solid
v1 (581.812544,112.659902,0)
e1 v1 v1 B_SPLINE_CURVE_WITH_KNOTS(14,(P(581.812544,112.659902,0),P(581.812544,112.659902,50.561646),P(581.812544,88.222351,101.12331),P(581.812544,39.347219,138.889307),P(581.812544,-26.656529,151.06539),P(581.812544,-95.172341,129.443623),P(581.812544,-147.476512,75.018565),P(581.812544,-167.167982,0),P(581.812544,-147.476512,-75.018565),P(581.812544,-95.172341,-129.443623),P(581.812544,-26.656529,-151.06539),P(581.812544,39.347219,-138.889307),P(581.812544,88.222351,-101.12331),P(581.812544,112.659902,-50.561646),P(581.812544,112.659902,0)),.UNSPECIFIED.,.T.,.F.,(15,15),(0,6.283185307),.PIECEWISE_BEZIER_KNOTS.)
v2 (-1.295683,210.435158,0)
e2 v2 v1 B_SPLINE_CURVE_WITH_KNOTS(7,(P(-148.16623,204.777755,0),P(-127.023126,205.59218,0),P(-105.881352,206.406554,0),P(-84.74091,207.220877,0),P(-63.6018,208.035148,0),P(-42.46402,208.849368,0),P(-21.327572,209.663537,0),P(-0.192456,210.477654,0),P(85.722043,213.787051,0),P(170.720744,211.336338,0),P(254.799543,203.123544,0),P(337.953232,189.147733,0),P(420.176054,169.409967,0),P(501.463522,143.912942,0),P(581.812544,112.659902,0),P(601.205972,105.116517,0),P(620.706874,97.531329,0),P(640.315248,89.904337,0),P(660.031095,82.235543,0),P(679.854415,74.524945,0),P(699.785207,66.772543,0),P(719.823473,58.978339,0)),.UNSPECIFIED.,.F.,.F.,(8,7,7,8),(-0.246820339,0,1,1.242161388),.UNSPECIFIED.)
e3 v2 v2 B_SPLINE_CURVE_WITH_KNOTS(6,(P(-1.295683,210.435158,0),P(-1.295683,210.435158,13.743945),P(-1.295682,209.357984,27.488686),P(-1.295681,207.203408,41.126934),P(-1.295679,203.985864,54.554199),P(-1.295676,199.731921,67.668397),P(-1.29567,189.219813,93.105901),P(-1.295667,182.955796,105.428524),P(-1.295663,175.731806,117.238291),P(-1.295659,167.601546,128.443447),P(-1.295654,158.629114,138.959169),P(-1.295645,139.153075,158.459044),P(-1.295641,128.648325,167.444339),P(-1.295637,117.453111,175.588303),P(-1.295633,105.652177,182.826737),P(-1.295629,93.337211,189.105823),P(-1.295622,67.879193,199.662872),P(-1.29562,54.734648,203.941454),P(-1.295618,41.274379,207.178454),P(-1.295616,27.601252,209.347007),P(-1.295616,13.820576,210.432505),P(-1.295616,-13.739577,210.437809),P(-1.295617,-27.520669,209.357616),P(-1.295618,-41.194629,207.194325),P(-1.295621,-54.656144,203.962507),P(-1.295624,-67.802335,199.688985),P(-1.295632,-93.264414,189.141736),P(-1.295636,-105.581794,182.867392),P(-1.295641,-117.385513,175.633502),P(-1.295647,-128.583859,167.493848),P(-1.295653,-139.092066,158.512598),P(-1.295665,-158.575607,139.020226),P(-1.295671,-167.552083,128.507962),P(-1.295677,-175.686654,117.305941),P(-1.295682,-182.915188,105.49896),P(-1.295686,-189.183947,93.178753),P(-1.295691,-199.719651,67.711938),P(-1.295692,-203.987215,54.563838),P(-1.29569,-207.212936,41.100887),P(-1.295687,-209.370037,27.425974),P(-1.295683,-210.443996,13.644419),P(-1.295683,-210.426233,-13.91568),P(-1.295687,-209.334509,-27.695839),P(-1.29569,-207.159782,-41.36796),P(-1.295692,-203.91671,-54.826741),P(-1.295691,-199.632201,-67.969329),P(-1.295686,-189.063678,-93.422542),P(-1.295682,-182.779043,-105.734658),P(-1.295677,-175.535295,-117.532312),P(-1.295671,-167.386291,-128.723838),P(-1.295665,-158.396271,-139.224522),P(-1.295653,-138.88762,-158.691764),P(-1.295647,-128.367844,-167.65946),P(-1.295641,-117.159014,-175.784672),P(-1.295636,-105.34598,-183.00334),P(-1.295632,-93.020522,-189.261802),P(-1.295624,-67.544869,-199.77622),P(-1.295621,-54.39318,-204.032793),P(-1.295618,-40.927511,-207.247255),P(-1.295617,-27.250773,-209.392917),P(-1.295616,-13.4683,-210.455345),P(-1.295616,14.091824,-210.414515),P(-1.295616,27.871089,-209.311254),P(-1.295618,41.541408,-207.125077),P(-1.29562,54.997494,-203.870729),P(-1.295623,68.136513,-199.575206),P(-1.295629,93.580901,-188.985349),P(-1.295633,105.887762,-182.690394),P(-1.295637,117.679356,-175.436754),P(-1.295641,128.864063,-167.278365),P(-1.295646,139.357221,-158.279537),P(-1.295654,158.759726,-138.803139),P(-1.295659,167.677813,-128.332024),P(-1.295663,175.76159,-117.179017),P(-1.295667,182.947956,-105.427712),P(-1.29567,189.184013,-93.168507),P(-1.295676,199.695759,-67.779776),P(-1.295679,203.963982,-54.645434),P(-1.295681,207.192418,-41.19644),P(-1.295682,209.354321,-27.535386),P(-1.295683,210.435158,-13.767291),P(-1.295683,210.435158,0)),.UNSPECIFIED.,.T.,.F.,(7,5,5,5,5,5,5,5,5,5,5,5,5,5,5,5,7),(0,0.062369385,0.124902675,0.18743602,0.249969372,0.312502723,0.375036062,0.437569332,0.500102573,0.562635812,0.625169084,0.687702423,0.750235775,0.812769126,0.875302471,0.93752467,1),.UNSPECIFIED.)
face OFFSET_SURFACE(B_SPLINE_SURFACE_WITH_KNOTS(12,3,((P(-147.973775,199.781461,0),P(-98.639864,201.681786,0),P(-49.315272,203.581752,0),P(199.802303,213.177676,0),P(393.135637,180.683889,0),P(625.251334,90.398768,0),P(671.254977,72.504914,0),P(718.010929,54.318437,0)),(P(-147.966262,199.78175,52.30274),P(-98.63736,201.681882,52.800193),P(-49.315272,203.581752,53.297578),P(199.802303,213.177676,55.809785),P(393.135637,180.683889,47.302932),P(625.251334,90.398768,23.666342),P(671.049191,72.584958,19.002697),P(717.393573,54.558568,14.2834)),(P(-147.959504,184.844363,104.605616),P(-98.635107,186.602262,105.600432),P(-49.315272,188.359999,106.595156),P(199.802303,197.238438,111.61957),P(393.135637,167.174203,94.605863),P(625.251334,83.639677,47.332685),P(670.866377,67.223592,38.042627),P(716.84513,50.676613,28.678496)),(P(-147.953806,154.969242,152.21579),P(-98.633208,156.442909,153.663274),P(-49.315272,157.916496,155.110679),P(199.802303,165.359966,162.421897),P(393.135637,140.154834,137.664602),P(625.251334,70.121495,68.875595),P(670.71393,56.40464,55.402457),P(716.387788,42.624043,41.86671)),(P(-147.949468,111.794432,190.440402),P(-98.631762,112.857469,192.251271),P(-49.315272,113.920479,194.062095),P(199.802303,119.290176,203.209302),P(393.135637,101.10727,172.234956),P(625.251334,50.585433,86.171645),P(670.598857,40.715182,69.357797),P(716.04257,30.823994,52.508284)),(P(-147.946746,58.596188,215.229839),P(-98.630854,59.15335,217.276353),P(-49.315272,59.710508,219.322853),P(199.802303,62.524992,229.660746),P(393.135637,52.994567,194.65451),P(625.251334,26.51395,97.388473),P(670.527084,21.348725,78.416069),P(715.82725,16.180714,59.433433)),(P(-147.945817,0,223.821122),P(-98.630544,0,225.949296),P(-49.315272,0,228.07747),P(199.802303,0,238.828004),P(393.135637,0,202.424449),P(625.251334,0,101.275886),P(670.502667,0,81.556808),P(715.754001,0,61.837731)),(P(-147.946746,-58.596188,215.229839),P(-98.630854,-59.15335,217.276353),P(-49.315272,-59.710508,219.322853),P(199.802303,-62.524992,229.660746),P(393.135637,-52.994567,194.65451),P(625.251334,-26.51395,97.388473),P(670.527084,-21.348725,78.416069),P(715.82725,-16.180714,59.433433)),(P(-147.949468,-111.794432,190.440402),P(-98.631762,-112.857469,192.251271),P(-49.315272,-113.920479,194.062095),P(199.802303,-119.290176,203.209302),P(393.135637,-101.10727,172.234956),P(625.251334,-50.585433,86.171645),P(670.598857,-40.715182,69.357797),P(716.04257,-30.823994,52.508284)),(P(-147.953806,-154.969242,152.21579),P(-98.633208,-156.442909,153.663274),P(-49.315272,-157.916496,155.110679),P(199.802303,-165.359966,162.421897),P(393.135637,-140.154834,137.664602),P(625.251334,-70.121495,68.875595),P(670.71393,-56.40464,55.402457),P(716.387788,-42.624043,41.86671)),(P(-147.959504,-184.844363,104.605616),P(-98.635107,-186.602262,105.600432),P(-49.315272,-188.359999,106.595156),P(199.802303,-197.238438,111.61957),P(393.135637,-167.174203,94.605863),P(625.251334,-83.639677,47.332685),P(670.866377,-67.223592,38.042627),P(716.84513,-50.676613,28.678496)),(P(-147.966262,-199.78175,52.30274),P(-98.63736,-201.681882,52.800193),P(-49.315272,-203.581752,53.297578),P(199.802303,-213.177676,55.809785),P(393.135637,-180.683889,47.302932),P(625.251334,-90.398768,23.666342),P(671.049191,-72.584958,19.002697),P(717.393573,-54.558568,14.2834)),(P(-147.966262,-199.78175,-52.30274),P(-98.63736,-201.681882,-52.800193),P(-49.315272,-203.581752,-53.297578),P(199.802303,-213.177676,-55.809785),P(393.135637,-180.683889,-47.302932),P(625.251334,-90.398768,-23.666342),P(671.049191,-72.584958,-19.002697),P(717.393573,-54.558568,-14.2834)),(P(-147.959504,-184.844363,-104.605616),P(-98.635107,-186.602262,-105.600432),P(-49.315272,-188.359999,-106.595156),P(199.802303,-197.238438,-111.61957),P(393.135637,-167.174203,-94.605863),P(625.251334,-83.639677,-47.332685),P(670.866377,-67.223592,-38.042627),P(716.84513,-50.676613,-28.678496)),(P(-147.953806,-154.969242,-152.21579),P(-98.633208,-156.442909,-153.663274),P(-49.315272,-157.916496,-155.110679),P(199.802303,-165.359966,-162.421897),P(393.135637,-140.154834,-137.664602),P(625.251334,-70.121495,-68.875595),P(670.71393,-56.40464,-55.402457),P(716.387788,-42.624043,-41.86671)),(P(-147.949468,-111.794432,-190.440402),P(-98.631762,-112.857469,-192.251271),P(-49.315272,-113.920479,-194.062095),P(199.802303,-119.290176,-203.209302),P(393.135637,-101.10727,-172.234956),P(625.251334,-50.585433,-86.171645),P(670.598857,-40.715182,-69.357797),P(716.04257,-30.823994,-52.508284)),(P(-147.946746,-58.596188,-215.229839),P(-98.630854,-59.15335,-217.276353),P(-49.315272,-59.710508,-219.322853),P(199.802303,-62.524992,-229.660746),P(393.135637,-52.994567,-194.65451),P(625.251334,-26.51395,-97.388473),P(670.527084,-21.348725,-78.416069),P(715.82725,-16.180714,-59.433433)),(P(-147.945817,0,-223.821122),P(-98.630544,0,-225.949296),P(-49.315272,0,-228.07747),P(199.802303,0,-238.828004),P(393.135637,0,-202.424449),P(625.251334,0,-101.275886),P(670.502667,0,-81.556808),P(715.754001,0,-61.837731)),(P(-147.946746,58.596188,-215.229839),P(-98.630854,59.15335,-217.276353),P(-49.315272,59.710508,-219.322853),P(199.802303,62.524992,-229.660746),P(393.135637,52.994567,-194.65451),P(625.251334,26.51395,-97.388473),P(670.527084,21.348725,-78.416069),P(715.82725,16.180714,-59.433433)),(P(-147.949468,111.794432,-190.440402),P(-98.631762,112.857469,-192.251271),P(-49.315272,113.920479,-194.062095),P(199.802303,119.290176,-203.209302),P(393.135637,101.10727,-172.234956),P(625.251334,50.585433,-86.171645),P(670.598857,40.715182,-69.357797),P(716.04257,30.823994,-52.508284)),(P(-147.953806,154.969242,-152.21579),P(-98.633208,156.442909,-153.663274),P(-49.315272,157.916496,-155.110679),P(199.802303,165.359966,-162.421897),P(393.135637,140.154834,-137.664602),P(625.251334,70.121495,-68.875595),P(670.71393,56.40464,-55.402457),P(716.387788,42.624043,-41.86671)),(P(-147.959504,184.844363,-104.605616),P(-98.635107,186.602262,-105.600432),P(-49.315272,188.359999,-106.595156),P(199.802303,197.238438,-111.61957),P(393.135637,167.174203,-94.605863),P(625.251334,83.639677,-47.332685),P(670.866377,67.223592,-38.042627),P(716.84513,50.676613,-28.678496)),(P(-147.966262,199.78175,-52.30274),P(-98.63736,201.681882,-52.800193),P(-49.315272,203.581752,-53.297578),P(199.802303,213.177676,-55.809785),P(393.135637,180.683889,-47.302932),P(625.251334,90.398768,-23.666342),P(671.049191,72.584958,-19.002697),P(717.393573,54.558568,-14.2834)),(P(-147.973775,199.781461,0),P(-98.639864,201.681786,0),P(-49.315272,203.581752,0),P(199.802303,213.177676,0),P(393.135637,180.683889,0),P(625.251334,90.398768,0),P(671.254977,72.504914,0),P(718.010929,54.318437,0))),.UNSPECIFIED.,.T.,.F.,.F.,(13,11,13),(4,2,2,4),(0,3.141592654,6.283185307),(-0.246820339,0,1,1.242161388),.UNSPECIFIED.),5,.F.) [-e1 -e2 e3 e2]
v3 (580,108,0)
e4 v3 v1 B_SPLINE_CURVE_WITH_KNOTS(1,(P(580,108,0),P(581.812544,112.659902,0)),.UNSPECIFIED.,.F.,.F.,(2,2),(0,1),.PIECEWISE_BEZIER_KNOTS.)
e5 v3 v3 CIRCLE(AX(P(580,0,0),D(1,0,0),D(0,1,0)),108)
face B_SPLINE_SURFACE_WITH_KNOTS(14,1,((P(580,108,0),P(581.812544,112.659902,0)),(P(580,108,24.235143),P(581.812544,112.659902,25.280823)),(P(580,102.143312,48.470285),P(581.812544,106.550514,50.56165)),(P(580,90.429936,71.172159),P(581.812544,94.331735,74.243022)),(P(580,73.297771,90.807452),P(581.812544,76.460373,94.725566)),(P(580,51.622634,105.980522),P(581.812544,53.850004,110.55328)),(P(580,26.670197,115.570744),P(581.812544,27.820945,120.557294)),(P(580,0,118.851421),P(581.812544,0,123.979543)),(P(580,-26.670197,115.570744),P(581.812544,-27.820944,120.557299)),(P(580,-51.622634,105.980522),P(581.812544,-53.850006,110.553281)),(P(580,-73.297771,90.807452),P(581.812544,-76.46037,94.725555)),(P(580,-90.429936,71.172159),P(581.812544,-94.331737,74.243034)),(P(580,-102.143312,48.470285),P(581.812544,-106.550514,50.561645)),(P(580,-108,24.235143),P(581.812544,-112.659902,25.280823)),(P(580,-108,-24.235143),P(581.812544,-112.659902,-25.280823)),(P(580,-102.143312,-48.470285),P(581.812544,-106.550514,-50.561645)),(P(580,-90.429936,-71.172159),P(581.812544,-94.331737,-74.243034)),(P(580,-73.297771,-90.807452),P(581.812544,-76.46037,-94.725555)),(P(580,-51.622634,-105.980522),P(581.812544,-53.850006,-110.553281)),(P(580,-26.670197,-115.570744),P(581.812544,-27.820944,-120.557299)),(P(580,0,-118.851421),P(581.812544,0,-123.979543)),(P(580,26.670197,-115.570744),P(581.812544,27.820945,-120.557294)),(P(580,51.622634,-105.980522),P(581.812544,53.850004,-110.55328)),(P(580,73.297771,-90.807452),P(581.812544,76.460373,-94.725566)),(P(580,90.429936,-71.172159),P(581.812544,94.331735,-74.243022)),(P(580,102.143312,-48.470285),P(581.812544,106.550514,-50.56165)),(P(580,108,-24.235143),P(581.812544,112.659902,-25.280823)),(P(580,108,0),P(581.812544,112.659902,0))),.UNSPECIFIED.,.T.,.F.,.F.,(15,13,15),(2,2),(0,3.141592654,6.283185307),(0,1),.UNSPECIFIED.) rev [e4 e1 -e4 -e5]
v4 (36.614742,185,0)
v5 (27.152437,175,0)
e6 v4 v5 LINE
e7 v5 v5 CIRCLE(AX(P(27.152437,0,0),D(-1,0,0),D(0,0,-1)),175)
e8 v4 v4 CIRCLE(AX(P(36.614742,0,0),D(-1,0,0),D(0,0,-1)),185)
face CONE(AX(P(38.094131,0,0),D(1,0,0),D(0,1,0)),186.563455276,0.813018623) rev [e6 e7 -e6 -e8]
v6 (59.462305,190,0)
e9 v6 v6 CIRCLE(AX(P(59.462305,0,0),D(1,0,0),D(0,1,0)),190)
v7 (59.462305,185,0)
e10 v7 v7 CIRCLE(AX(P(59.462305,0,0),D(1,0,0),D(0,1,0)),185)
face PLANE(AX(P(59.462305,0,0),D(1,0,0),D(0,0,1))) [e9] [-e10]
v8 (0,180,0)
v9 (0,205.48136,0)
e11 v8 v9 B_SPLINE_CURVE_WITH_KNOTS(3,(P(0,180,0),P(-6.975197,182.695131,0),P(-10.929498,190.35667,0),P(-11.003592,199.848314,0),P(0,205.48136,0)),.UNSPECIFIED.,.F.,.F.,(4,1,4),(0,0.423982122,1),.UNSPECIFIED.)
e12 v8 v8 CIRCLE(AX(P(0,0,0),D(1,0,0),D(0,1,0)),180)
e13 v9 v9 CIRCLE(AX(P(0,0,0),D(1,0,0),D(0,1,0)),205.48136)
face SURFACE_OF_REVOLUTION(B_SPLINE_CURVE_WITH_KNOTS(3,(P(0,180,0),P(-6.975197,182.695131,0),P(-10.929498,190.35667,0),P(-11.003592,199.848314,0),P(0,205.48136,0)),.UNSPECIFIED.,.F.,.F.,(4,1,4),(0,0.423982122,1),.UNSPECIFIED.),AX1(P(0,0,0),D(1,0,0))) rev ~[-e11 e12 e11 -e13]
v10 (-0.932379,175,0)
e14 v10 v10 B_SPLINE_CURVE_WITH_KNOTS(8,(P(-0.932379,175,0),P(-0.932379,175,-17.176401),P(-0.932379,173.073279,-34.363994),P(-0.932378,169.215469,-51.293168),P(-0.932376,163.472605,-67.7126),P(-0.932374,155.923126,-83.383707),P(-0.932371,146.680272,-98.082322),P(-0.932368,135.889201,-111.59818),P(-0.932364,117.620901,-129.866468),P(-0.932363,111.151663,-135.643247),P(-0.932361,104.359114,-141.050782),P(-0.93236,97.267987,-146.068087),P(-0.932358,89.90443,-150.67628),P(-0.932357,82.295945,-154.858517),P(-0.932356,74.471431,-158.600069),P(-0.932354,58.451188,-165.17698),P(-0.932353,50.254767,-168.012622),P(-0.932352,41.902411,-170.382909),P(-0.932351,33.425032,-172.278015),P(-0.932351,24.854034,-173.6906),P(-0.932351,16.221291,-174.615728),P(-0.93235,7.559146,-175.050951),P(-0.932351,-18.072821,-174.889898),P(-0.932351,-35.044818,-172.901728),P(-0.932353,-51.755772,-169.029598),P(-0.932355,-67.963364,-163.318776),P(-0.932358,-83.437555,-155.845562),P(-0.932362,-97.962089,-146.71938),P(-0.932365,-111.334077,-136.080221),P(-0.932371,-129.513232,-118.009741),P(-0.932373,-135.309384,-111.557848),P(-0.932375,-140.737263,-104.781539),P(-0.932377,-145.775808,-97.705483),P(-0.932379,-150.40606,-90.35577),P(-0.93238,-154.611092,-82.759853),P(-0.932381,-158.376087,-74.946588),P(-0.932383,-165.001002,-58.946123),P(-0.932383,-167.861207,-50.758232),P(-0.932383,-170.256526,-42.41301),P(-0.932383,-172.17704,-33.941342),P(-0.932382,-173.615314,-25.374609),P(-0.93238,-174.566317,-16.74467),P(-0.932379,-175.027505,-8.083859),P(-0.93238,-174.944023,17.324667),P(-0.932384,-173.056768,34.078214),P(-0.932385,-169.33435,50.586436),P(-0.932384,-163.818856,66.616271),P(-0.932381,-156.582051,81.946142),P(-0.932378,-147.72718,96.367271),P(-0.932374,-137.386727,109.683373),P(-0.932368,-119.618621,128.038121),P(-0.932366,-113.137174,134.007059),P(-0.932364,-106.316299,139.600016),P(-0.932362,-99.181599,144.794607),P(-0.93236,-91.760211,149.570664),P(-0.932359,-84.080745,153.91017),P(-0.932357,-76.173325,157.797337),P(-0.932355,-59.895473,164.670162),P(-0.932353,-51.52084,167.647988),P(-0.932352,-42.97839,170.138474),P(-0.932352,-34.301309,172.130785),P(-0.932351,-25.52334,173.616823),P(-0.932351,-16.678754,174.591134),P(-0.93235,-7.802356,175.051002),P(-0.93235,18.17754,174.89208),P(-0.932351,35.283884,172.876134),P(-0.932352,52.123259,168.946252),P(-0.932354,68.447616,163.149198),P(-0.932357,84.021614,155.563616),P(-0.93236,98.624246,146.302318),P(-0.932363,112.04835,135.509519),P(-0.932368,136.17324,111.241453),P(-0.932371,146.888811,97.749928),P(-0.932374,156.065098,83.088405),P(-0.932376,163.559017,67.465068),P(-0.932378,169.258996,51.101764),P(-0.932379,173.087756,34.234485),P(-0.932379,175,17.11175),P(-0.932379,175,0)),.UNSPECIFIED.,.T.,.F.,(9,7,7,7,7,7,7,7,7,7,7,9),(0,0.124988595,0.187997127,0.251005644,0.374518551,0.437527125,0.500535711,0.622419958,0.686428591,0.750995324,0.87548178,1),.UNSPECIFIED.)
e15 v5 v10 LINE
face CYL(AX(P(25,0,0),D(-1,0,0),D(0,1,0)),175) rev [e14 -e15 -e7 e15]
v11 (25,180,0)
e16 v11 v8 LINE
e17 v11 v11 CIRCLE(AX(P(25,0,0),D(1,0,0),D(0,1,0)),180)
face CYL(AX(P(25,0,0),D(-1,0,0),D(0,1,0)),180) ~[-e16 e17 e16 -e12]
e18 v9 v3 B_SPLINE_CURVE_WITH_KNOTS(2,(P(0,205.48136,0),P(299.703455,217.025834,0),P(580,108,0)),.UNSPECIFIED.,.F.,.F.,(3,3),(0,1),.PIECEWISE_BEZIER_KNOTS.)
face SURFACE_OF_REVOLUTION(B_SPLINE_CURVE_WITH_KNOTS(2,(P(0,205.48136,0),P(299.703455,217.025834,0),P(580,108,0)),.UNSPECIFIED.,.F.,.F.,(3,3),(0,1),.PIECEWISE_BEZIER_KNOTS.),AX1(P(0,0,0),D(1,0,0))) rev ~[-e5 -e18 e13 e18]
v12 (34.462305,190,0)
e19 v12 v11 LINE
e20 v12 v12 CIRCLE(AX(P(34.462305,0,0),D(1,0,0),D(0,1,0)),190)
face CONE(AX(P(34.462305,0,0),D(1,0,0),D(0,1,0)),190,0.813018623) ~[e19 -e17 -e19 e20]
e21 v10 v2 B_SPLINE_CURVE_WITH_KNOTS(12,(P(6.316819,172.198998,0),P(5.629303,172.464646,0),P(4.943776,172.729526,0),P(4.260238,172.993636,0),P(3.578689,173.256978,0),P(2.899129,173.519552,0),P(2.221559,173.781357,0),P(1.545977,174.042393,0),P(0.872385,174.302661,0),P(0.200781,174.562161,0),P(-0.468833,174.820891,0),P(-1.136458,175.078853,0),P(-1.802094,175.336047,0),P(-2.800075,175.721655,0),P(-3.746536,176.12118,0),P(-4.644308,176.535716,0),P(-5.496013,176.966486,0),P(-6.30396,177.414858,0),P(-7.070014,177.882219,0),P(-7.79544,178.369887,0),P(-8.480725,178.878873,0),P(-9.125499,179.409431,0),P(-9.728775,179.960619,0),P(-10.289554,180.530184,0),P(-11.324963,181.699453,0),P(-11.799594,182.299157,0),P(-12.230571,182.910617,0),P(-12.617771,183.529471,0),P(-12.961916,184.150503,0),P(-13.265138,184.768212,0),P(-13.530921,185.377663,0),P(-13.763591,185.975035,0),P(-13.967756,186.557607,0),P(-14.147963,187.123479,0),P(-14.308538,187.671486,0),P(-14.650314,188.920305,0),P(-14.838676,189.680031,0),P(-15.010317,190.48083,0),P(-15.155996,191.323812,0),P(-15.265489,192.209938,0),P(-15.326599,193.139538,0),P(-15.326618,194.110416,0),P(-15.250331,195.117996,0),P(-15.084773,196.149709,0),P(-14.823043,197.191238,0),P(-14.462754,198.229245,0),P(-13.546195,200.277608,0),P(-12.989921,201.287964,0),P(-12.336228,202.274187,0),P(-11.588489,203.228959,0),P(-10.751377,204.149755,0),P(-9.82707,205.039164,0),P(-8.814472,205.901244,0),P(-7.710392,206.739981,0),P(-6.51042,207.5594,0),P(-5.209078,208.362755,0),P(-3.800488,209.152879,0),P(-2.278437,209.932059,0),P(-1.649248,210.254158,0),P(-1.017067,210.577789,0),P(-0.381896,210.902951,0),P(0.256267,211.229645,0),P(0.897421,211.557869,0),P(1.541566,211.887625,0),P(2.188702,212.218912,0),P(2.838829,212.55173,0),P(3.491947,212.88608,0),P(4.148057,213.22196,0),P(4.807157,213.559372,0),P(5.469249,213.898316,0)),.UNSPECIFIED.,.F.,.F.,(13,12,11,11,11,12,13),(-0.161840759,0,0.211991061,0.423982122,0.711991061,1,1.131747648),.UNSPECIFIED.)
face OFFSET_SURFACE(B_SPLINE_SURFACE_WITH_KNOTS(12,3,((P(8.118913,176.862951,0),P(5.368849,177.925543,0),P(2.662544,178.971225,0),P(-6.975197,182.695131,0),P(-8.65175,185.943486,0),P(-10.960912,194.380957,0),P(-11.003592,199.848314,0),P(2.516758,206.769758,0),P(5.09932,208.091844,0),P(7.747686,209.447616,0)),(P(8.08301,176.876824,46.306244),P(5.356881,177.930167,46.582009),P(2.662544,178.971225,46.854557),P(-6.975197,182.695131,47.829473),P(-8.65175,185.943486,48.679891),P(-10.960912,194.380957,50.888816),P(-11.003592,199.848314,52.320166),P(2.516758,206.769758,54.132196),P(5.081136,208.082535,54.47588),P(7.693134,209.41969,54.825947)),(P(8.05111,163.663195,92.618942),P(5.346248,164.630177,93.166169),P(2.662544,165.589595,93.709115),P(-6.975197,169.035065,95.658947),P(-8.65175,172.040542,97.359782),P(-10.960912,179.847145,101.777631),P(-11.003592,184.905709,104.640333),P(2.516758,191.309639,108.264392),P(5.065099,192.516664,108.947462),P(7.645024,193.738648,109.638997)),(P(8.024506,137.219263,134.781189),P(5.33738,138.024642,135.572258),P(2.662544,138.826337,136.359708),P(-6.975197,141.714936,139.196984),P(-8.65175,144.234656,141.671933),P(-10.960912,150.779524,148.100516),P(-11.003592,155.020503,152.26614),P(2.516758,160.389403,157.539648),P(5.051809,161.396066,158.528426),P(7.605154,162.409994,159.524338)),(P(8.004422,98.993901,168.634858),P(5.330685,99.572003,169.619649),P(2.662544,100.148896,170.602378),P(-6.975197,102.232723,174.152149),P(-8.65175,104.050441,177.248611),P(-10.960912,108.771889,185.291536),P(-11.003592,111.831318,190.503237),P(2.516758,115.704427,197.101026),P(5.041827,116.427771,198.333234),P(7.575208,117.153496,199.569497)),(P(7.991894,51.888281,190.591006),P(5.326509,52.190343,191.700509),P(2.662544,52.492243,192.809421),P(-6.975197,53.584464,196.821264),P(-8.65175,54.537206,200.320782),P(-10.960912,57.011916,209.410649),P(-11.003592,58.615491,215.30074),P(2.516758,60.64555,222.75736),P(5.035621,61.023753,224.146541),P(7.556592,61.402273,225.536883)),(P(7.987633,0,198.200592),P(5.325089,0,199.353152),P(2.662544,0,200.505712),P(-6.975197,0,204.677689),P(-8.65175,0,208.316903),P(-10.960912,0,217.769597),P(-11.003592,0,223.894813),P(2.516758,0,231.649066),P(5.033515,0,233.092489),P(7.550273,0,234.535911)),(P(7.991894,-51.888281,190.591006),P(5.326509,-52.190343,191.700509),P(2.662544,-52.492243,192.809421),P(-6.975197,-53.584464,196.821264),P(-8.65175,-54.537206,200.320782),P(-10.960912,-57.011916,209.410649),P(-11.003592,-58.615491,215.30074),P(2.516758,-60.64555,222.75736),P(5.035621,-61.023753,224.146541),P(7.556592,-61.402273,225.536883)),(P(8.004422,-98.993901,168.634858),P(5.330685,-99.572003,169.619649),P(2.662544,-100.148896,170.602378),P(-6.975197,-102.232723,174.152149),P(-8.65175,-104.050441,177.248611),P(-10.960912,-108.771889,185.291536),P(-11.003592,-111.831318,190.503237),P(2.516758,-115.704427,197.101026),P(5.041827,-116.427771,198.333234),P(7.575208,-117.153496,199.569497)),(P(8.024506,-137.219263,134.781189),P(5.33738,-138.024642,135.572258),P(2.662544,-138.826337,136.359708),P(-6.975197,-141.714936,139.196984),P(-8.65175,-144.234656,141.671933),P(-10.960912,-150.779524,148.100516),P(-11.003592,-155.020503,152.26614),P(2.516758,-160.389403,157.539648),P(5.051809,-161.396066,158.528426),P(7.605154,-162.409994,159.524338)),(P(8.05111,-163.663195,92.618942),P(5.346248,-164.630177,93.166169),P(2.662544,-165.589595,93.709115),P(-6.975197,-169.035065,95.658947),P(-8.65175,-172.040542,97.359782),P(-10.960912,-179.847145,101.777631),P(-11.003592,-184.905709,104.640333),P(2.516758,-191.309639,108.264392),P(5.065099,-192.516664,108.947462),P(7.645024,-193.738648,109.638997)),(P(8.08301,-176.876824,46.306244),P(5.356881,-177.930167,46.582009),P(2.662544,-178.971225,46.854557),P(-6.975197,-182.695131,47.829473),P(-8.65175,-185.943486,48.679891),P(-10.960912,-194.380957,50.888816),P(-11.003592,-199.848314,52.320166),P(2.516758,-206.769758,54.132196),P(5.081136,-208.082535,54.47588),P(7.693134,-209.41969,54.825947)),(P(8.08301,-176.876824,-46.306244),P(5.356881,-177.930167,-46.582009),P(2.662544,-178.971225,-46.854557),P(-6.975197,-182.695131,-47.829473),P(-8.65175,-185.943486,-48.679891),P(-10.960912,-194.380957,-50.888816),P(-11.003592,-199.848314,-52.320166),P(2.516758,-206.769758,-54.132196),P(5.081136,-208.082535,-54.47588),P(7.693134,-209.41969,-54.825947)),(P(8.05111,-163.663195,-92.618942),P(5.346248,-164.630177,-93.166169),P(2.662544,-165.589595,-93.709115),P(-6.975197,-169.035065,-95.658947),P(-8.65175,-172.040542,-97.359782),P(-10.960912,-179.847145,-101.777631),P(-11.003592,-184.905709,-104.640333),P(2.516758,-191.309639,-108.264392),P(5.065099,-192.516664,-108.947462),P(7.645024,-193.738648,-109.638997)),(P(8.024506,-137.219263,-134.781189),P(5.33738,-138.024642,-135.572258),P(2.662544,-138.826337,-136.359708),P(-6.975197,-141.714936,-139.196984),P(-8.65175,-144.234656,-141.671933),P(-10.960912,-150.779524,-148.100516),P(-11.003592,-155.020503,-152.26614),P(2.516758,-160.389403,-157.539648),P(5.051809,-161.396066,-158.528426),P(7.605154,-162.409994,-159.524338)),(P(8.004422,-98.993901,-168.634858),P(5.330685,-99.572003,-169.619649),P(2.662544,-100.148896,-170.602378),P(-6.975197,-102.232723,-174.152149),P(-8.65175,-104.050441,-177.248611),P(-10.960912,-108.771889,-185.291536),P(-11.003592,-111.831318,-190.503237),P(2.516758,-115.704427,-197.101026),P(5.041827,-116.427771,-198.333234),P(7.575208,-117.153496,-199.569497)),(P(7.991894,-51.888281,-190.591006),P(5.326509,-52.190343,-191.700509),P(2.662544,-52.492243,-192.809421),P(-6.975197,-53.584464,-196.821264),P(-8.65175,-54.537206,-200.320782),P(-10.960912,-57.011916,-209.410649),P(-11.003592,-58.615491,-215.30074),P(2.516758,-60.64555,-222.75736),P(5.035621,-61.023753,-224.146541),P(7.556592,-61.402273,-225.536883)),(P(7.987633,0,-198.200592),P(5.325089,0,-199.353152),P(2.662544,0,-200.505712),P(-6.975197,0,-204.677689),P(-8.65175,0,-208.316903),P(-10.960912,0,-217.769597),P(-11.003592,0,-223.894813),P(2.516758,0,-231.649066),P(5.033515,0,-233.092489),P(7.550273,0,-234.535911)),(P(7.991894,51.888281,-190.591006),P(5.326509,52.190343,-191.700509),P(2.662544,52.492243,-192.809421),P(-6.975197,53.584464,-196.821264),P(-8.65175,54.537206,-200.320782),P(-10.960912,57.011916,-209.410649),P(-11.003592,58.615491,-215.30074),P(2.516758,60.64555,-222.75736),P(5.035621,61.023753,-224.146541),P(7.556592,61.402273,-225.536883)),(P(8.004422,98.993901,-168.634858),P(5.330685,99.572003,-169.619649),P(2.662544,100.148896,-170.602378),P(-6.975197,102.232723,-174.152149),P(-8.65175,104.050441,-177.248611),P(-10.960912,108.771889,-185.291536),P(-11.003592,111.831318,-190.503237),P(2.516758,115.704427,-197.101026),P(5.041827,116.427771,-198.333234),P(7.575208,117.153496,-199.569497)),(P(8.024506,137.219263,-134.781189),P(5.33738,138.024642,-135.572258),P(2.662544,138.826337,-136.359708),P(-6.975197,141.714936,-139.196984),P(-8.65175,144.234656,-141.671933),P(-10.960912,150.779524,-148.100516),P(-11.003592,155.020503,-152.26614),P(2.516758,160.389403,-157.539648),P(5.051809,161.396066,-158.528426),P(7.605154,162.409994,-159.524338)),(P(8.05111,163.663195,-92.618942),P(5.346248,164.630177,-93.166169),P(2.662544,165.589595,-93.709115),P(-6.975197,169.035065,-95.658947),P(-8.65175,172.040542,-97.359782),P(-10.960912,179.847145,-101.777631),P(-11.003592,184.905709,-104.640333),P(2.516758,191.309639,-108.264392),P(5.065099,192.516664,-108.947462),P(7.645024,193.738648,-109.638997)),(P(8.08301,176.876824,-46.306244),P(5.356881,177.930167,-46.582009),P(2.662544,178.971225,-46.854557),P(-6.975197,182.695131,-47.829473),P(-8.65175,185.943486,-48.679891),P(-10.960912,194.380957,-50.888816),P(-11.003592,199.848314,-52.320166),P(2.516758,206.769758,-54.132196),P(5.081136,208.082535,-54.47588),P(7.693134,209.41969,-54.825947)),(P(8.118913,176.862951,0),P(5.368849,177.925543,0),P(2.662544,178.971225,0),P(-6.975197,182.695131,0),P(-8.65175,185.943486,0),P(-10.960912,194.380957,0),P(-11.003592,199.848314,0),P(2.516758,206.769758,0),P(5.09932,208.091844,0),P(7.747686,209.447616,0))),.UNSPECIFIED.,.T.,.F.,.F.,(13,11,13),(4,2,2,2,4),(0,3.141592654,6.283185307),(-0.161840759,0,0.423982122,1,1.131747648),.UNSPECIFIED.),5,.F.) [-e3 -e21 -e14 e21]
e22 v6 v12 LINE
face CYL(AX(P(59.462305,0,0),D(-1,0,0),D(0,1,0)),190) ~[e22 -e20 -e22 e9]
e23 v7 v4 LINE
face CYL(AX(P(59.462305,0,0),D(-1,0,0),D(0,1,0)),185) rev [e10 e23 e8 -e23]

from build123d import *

# Parameters (mm, degrees)
THICKEN1_T1 = 5


with BuildPart() as body_1:
    # Surface-Revolve1: a surface, the sketch's curves turned about an axis
    with BuildLine(Plane.XY, mode=Mode.PRIVATE) as surface_revolve1_1_path:
        Line((59.462305436, 190), (34.462305436, 190))
        Line((34.462305436, 190), (25, 180))
        Line((25, 180), (0, 180))
        add(Edge.make_bspline(
            [(0, 180), (-6.975197262, 182.695130732), (-10.929497594, 190.356670201), (-11.003591647, 199.848313969), (0, 205.481359601)],
            knots=[0, 0, 0, 0, 0.423982122, 1, 1, 1, 1], degree=3))
        add(Edge.make_bspline(
            [(0, 205.481359601), (299.703455173, 217.025834014), (580, 108)],
            knots=[0, 0, 0, 1, 1, 1], degree=2))
    surface_revolve1_1 = Shell.revolve(surface_revolve1_1_path.wire(), 360, Axis((0, 0, 0), (1, 0, 0)))
    add(Solid.thicken(surface_revolve1_1, THICKEN1_T1))


solid = body_1.part
